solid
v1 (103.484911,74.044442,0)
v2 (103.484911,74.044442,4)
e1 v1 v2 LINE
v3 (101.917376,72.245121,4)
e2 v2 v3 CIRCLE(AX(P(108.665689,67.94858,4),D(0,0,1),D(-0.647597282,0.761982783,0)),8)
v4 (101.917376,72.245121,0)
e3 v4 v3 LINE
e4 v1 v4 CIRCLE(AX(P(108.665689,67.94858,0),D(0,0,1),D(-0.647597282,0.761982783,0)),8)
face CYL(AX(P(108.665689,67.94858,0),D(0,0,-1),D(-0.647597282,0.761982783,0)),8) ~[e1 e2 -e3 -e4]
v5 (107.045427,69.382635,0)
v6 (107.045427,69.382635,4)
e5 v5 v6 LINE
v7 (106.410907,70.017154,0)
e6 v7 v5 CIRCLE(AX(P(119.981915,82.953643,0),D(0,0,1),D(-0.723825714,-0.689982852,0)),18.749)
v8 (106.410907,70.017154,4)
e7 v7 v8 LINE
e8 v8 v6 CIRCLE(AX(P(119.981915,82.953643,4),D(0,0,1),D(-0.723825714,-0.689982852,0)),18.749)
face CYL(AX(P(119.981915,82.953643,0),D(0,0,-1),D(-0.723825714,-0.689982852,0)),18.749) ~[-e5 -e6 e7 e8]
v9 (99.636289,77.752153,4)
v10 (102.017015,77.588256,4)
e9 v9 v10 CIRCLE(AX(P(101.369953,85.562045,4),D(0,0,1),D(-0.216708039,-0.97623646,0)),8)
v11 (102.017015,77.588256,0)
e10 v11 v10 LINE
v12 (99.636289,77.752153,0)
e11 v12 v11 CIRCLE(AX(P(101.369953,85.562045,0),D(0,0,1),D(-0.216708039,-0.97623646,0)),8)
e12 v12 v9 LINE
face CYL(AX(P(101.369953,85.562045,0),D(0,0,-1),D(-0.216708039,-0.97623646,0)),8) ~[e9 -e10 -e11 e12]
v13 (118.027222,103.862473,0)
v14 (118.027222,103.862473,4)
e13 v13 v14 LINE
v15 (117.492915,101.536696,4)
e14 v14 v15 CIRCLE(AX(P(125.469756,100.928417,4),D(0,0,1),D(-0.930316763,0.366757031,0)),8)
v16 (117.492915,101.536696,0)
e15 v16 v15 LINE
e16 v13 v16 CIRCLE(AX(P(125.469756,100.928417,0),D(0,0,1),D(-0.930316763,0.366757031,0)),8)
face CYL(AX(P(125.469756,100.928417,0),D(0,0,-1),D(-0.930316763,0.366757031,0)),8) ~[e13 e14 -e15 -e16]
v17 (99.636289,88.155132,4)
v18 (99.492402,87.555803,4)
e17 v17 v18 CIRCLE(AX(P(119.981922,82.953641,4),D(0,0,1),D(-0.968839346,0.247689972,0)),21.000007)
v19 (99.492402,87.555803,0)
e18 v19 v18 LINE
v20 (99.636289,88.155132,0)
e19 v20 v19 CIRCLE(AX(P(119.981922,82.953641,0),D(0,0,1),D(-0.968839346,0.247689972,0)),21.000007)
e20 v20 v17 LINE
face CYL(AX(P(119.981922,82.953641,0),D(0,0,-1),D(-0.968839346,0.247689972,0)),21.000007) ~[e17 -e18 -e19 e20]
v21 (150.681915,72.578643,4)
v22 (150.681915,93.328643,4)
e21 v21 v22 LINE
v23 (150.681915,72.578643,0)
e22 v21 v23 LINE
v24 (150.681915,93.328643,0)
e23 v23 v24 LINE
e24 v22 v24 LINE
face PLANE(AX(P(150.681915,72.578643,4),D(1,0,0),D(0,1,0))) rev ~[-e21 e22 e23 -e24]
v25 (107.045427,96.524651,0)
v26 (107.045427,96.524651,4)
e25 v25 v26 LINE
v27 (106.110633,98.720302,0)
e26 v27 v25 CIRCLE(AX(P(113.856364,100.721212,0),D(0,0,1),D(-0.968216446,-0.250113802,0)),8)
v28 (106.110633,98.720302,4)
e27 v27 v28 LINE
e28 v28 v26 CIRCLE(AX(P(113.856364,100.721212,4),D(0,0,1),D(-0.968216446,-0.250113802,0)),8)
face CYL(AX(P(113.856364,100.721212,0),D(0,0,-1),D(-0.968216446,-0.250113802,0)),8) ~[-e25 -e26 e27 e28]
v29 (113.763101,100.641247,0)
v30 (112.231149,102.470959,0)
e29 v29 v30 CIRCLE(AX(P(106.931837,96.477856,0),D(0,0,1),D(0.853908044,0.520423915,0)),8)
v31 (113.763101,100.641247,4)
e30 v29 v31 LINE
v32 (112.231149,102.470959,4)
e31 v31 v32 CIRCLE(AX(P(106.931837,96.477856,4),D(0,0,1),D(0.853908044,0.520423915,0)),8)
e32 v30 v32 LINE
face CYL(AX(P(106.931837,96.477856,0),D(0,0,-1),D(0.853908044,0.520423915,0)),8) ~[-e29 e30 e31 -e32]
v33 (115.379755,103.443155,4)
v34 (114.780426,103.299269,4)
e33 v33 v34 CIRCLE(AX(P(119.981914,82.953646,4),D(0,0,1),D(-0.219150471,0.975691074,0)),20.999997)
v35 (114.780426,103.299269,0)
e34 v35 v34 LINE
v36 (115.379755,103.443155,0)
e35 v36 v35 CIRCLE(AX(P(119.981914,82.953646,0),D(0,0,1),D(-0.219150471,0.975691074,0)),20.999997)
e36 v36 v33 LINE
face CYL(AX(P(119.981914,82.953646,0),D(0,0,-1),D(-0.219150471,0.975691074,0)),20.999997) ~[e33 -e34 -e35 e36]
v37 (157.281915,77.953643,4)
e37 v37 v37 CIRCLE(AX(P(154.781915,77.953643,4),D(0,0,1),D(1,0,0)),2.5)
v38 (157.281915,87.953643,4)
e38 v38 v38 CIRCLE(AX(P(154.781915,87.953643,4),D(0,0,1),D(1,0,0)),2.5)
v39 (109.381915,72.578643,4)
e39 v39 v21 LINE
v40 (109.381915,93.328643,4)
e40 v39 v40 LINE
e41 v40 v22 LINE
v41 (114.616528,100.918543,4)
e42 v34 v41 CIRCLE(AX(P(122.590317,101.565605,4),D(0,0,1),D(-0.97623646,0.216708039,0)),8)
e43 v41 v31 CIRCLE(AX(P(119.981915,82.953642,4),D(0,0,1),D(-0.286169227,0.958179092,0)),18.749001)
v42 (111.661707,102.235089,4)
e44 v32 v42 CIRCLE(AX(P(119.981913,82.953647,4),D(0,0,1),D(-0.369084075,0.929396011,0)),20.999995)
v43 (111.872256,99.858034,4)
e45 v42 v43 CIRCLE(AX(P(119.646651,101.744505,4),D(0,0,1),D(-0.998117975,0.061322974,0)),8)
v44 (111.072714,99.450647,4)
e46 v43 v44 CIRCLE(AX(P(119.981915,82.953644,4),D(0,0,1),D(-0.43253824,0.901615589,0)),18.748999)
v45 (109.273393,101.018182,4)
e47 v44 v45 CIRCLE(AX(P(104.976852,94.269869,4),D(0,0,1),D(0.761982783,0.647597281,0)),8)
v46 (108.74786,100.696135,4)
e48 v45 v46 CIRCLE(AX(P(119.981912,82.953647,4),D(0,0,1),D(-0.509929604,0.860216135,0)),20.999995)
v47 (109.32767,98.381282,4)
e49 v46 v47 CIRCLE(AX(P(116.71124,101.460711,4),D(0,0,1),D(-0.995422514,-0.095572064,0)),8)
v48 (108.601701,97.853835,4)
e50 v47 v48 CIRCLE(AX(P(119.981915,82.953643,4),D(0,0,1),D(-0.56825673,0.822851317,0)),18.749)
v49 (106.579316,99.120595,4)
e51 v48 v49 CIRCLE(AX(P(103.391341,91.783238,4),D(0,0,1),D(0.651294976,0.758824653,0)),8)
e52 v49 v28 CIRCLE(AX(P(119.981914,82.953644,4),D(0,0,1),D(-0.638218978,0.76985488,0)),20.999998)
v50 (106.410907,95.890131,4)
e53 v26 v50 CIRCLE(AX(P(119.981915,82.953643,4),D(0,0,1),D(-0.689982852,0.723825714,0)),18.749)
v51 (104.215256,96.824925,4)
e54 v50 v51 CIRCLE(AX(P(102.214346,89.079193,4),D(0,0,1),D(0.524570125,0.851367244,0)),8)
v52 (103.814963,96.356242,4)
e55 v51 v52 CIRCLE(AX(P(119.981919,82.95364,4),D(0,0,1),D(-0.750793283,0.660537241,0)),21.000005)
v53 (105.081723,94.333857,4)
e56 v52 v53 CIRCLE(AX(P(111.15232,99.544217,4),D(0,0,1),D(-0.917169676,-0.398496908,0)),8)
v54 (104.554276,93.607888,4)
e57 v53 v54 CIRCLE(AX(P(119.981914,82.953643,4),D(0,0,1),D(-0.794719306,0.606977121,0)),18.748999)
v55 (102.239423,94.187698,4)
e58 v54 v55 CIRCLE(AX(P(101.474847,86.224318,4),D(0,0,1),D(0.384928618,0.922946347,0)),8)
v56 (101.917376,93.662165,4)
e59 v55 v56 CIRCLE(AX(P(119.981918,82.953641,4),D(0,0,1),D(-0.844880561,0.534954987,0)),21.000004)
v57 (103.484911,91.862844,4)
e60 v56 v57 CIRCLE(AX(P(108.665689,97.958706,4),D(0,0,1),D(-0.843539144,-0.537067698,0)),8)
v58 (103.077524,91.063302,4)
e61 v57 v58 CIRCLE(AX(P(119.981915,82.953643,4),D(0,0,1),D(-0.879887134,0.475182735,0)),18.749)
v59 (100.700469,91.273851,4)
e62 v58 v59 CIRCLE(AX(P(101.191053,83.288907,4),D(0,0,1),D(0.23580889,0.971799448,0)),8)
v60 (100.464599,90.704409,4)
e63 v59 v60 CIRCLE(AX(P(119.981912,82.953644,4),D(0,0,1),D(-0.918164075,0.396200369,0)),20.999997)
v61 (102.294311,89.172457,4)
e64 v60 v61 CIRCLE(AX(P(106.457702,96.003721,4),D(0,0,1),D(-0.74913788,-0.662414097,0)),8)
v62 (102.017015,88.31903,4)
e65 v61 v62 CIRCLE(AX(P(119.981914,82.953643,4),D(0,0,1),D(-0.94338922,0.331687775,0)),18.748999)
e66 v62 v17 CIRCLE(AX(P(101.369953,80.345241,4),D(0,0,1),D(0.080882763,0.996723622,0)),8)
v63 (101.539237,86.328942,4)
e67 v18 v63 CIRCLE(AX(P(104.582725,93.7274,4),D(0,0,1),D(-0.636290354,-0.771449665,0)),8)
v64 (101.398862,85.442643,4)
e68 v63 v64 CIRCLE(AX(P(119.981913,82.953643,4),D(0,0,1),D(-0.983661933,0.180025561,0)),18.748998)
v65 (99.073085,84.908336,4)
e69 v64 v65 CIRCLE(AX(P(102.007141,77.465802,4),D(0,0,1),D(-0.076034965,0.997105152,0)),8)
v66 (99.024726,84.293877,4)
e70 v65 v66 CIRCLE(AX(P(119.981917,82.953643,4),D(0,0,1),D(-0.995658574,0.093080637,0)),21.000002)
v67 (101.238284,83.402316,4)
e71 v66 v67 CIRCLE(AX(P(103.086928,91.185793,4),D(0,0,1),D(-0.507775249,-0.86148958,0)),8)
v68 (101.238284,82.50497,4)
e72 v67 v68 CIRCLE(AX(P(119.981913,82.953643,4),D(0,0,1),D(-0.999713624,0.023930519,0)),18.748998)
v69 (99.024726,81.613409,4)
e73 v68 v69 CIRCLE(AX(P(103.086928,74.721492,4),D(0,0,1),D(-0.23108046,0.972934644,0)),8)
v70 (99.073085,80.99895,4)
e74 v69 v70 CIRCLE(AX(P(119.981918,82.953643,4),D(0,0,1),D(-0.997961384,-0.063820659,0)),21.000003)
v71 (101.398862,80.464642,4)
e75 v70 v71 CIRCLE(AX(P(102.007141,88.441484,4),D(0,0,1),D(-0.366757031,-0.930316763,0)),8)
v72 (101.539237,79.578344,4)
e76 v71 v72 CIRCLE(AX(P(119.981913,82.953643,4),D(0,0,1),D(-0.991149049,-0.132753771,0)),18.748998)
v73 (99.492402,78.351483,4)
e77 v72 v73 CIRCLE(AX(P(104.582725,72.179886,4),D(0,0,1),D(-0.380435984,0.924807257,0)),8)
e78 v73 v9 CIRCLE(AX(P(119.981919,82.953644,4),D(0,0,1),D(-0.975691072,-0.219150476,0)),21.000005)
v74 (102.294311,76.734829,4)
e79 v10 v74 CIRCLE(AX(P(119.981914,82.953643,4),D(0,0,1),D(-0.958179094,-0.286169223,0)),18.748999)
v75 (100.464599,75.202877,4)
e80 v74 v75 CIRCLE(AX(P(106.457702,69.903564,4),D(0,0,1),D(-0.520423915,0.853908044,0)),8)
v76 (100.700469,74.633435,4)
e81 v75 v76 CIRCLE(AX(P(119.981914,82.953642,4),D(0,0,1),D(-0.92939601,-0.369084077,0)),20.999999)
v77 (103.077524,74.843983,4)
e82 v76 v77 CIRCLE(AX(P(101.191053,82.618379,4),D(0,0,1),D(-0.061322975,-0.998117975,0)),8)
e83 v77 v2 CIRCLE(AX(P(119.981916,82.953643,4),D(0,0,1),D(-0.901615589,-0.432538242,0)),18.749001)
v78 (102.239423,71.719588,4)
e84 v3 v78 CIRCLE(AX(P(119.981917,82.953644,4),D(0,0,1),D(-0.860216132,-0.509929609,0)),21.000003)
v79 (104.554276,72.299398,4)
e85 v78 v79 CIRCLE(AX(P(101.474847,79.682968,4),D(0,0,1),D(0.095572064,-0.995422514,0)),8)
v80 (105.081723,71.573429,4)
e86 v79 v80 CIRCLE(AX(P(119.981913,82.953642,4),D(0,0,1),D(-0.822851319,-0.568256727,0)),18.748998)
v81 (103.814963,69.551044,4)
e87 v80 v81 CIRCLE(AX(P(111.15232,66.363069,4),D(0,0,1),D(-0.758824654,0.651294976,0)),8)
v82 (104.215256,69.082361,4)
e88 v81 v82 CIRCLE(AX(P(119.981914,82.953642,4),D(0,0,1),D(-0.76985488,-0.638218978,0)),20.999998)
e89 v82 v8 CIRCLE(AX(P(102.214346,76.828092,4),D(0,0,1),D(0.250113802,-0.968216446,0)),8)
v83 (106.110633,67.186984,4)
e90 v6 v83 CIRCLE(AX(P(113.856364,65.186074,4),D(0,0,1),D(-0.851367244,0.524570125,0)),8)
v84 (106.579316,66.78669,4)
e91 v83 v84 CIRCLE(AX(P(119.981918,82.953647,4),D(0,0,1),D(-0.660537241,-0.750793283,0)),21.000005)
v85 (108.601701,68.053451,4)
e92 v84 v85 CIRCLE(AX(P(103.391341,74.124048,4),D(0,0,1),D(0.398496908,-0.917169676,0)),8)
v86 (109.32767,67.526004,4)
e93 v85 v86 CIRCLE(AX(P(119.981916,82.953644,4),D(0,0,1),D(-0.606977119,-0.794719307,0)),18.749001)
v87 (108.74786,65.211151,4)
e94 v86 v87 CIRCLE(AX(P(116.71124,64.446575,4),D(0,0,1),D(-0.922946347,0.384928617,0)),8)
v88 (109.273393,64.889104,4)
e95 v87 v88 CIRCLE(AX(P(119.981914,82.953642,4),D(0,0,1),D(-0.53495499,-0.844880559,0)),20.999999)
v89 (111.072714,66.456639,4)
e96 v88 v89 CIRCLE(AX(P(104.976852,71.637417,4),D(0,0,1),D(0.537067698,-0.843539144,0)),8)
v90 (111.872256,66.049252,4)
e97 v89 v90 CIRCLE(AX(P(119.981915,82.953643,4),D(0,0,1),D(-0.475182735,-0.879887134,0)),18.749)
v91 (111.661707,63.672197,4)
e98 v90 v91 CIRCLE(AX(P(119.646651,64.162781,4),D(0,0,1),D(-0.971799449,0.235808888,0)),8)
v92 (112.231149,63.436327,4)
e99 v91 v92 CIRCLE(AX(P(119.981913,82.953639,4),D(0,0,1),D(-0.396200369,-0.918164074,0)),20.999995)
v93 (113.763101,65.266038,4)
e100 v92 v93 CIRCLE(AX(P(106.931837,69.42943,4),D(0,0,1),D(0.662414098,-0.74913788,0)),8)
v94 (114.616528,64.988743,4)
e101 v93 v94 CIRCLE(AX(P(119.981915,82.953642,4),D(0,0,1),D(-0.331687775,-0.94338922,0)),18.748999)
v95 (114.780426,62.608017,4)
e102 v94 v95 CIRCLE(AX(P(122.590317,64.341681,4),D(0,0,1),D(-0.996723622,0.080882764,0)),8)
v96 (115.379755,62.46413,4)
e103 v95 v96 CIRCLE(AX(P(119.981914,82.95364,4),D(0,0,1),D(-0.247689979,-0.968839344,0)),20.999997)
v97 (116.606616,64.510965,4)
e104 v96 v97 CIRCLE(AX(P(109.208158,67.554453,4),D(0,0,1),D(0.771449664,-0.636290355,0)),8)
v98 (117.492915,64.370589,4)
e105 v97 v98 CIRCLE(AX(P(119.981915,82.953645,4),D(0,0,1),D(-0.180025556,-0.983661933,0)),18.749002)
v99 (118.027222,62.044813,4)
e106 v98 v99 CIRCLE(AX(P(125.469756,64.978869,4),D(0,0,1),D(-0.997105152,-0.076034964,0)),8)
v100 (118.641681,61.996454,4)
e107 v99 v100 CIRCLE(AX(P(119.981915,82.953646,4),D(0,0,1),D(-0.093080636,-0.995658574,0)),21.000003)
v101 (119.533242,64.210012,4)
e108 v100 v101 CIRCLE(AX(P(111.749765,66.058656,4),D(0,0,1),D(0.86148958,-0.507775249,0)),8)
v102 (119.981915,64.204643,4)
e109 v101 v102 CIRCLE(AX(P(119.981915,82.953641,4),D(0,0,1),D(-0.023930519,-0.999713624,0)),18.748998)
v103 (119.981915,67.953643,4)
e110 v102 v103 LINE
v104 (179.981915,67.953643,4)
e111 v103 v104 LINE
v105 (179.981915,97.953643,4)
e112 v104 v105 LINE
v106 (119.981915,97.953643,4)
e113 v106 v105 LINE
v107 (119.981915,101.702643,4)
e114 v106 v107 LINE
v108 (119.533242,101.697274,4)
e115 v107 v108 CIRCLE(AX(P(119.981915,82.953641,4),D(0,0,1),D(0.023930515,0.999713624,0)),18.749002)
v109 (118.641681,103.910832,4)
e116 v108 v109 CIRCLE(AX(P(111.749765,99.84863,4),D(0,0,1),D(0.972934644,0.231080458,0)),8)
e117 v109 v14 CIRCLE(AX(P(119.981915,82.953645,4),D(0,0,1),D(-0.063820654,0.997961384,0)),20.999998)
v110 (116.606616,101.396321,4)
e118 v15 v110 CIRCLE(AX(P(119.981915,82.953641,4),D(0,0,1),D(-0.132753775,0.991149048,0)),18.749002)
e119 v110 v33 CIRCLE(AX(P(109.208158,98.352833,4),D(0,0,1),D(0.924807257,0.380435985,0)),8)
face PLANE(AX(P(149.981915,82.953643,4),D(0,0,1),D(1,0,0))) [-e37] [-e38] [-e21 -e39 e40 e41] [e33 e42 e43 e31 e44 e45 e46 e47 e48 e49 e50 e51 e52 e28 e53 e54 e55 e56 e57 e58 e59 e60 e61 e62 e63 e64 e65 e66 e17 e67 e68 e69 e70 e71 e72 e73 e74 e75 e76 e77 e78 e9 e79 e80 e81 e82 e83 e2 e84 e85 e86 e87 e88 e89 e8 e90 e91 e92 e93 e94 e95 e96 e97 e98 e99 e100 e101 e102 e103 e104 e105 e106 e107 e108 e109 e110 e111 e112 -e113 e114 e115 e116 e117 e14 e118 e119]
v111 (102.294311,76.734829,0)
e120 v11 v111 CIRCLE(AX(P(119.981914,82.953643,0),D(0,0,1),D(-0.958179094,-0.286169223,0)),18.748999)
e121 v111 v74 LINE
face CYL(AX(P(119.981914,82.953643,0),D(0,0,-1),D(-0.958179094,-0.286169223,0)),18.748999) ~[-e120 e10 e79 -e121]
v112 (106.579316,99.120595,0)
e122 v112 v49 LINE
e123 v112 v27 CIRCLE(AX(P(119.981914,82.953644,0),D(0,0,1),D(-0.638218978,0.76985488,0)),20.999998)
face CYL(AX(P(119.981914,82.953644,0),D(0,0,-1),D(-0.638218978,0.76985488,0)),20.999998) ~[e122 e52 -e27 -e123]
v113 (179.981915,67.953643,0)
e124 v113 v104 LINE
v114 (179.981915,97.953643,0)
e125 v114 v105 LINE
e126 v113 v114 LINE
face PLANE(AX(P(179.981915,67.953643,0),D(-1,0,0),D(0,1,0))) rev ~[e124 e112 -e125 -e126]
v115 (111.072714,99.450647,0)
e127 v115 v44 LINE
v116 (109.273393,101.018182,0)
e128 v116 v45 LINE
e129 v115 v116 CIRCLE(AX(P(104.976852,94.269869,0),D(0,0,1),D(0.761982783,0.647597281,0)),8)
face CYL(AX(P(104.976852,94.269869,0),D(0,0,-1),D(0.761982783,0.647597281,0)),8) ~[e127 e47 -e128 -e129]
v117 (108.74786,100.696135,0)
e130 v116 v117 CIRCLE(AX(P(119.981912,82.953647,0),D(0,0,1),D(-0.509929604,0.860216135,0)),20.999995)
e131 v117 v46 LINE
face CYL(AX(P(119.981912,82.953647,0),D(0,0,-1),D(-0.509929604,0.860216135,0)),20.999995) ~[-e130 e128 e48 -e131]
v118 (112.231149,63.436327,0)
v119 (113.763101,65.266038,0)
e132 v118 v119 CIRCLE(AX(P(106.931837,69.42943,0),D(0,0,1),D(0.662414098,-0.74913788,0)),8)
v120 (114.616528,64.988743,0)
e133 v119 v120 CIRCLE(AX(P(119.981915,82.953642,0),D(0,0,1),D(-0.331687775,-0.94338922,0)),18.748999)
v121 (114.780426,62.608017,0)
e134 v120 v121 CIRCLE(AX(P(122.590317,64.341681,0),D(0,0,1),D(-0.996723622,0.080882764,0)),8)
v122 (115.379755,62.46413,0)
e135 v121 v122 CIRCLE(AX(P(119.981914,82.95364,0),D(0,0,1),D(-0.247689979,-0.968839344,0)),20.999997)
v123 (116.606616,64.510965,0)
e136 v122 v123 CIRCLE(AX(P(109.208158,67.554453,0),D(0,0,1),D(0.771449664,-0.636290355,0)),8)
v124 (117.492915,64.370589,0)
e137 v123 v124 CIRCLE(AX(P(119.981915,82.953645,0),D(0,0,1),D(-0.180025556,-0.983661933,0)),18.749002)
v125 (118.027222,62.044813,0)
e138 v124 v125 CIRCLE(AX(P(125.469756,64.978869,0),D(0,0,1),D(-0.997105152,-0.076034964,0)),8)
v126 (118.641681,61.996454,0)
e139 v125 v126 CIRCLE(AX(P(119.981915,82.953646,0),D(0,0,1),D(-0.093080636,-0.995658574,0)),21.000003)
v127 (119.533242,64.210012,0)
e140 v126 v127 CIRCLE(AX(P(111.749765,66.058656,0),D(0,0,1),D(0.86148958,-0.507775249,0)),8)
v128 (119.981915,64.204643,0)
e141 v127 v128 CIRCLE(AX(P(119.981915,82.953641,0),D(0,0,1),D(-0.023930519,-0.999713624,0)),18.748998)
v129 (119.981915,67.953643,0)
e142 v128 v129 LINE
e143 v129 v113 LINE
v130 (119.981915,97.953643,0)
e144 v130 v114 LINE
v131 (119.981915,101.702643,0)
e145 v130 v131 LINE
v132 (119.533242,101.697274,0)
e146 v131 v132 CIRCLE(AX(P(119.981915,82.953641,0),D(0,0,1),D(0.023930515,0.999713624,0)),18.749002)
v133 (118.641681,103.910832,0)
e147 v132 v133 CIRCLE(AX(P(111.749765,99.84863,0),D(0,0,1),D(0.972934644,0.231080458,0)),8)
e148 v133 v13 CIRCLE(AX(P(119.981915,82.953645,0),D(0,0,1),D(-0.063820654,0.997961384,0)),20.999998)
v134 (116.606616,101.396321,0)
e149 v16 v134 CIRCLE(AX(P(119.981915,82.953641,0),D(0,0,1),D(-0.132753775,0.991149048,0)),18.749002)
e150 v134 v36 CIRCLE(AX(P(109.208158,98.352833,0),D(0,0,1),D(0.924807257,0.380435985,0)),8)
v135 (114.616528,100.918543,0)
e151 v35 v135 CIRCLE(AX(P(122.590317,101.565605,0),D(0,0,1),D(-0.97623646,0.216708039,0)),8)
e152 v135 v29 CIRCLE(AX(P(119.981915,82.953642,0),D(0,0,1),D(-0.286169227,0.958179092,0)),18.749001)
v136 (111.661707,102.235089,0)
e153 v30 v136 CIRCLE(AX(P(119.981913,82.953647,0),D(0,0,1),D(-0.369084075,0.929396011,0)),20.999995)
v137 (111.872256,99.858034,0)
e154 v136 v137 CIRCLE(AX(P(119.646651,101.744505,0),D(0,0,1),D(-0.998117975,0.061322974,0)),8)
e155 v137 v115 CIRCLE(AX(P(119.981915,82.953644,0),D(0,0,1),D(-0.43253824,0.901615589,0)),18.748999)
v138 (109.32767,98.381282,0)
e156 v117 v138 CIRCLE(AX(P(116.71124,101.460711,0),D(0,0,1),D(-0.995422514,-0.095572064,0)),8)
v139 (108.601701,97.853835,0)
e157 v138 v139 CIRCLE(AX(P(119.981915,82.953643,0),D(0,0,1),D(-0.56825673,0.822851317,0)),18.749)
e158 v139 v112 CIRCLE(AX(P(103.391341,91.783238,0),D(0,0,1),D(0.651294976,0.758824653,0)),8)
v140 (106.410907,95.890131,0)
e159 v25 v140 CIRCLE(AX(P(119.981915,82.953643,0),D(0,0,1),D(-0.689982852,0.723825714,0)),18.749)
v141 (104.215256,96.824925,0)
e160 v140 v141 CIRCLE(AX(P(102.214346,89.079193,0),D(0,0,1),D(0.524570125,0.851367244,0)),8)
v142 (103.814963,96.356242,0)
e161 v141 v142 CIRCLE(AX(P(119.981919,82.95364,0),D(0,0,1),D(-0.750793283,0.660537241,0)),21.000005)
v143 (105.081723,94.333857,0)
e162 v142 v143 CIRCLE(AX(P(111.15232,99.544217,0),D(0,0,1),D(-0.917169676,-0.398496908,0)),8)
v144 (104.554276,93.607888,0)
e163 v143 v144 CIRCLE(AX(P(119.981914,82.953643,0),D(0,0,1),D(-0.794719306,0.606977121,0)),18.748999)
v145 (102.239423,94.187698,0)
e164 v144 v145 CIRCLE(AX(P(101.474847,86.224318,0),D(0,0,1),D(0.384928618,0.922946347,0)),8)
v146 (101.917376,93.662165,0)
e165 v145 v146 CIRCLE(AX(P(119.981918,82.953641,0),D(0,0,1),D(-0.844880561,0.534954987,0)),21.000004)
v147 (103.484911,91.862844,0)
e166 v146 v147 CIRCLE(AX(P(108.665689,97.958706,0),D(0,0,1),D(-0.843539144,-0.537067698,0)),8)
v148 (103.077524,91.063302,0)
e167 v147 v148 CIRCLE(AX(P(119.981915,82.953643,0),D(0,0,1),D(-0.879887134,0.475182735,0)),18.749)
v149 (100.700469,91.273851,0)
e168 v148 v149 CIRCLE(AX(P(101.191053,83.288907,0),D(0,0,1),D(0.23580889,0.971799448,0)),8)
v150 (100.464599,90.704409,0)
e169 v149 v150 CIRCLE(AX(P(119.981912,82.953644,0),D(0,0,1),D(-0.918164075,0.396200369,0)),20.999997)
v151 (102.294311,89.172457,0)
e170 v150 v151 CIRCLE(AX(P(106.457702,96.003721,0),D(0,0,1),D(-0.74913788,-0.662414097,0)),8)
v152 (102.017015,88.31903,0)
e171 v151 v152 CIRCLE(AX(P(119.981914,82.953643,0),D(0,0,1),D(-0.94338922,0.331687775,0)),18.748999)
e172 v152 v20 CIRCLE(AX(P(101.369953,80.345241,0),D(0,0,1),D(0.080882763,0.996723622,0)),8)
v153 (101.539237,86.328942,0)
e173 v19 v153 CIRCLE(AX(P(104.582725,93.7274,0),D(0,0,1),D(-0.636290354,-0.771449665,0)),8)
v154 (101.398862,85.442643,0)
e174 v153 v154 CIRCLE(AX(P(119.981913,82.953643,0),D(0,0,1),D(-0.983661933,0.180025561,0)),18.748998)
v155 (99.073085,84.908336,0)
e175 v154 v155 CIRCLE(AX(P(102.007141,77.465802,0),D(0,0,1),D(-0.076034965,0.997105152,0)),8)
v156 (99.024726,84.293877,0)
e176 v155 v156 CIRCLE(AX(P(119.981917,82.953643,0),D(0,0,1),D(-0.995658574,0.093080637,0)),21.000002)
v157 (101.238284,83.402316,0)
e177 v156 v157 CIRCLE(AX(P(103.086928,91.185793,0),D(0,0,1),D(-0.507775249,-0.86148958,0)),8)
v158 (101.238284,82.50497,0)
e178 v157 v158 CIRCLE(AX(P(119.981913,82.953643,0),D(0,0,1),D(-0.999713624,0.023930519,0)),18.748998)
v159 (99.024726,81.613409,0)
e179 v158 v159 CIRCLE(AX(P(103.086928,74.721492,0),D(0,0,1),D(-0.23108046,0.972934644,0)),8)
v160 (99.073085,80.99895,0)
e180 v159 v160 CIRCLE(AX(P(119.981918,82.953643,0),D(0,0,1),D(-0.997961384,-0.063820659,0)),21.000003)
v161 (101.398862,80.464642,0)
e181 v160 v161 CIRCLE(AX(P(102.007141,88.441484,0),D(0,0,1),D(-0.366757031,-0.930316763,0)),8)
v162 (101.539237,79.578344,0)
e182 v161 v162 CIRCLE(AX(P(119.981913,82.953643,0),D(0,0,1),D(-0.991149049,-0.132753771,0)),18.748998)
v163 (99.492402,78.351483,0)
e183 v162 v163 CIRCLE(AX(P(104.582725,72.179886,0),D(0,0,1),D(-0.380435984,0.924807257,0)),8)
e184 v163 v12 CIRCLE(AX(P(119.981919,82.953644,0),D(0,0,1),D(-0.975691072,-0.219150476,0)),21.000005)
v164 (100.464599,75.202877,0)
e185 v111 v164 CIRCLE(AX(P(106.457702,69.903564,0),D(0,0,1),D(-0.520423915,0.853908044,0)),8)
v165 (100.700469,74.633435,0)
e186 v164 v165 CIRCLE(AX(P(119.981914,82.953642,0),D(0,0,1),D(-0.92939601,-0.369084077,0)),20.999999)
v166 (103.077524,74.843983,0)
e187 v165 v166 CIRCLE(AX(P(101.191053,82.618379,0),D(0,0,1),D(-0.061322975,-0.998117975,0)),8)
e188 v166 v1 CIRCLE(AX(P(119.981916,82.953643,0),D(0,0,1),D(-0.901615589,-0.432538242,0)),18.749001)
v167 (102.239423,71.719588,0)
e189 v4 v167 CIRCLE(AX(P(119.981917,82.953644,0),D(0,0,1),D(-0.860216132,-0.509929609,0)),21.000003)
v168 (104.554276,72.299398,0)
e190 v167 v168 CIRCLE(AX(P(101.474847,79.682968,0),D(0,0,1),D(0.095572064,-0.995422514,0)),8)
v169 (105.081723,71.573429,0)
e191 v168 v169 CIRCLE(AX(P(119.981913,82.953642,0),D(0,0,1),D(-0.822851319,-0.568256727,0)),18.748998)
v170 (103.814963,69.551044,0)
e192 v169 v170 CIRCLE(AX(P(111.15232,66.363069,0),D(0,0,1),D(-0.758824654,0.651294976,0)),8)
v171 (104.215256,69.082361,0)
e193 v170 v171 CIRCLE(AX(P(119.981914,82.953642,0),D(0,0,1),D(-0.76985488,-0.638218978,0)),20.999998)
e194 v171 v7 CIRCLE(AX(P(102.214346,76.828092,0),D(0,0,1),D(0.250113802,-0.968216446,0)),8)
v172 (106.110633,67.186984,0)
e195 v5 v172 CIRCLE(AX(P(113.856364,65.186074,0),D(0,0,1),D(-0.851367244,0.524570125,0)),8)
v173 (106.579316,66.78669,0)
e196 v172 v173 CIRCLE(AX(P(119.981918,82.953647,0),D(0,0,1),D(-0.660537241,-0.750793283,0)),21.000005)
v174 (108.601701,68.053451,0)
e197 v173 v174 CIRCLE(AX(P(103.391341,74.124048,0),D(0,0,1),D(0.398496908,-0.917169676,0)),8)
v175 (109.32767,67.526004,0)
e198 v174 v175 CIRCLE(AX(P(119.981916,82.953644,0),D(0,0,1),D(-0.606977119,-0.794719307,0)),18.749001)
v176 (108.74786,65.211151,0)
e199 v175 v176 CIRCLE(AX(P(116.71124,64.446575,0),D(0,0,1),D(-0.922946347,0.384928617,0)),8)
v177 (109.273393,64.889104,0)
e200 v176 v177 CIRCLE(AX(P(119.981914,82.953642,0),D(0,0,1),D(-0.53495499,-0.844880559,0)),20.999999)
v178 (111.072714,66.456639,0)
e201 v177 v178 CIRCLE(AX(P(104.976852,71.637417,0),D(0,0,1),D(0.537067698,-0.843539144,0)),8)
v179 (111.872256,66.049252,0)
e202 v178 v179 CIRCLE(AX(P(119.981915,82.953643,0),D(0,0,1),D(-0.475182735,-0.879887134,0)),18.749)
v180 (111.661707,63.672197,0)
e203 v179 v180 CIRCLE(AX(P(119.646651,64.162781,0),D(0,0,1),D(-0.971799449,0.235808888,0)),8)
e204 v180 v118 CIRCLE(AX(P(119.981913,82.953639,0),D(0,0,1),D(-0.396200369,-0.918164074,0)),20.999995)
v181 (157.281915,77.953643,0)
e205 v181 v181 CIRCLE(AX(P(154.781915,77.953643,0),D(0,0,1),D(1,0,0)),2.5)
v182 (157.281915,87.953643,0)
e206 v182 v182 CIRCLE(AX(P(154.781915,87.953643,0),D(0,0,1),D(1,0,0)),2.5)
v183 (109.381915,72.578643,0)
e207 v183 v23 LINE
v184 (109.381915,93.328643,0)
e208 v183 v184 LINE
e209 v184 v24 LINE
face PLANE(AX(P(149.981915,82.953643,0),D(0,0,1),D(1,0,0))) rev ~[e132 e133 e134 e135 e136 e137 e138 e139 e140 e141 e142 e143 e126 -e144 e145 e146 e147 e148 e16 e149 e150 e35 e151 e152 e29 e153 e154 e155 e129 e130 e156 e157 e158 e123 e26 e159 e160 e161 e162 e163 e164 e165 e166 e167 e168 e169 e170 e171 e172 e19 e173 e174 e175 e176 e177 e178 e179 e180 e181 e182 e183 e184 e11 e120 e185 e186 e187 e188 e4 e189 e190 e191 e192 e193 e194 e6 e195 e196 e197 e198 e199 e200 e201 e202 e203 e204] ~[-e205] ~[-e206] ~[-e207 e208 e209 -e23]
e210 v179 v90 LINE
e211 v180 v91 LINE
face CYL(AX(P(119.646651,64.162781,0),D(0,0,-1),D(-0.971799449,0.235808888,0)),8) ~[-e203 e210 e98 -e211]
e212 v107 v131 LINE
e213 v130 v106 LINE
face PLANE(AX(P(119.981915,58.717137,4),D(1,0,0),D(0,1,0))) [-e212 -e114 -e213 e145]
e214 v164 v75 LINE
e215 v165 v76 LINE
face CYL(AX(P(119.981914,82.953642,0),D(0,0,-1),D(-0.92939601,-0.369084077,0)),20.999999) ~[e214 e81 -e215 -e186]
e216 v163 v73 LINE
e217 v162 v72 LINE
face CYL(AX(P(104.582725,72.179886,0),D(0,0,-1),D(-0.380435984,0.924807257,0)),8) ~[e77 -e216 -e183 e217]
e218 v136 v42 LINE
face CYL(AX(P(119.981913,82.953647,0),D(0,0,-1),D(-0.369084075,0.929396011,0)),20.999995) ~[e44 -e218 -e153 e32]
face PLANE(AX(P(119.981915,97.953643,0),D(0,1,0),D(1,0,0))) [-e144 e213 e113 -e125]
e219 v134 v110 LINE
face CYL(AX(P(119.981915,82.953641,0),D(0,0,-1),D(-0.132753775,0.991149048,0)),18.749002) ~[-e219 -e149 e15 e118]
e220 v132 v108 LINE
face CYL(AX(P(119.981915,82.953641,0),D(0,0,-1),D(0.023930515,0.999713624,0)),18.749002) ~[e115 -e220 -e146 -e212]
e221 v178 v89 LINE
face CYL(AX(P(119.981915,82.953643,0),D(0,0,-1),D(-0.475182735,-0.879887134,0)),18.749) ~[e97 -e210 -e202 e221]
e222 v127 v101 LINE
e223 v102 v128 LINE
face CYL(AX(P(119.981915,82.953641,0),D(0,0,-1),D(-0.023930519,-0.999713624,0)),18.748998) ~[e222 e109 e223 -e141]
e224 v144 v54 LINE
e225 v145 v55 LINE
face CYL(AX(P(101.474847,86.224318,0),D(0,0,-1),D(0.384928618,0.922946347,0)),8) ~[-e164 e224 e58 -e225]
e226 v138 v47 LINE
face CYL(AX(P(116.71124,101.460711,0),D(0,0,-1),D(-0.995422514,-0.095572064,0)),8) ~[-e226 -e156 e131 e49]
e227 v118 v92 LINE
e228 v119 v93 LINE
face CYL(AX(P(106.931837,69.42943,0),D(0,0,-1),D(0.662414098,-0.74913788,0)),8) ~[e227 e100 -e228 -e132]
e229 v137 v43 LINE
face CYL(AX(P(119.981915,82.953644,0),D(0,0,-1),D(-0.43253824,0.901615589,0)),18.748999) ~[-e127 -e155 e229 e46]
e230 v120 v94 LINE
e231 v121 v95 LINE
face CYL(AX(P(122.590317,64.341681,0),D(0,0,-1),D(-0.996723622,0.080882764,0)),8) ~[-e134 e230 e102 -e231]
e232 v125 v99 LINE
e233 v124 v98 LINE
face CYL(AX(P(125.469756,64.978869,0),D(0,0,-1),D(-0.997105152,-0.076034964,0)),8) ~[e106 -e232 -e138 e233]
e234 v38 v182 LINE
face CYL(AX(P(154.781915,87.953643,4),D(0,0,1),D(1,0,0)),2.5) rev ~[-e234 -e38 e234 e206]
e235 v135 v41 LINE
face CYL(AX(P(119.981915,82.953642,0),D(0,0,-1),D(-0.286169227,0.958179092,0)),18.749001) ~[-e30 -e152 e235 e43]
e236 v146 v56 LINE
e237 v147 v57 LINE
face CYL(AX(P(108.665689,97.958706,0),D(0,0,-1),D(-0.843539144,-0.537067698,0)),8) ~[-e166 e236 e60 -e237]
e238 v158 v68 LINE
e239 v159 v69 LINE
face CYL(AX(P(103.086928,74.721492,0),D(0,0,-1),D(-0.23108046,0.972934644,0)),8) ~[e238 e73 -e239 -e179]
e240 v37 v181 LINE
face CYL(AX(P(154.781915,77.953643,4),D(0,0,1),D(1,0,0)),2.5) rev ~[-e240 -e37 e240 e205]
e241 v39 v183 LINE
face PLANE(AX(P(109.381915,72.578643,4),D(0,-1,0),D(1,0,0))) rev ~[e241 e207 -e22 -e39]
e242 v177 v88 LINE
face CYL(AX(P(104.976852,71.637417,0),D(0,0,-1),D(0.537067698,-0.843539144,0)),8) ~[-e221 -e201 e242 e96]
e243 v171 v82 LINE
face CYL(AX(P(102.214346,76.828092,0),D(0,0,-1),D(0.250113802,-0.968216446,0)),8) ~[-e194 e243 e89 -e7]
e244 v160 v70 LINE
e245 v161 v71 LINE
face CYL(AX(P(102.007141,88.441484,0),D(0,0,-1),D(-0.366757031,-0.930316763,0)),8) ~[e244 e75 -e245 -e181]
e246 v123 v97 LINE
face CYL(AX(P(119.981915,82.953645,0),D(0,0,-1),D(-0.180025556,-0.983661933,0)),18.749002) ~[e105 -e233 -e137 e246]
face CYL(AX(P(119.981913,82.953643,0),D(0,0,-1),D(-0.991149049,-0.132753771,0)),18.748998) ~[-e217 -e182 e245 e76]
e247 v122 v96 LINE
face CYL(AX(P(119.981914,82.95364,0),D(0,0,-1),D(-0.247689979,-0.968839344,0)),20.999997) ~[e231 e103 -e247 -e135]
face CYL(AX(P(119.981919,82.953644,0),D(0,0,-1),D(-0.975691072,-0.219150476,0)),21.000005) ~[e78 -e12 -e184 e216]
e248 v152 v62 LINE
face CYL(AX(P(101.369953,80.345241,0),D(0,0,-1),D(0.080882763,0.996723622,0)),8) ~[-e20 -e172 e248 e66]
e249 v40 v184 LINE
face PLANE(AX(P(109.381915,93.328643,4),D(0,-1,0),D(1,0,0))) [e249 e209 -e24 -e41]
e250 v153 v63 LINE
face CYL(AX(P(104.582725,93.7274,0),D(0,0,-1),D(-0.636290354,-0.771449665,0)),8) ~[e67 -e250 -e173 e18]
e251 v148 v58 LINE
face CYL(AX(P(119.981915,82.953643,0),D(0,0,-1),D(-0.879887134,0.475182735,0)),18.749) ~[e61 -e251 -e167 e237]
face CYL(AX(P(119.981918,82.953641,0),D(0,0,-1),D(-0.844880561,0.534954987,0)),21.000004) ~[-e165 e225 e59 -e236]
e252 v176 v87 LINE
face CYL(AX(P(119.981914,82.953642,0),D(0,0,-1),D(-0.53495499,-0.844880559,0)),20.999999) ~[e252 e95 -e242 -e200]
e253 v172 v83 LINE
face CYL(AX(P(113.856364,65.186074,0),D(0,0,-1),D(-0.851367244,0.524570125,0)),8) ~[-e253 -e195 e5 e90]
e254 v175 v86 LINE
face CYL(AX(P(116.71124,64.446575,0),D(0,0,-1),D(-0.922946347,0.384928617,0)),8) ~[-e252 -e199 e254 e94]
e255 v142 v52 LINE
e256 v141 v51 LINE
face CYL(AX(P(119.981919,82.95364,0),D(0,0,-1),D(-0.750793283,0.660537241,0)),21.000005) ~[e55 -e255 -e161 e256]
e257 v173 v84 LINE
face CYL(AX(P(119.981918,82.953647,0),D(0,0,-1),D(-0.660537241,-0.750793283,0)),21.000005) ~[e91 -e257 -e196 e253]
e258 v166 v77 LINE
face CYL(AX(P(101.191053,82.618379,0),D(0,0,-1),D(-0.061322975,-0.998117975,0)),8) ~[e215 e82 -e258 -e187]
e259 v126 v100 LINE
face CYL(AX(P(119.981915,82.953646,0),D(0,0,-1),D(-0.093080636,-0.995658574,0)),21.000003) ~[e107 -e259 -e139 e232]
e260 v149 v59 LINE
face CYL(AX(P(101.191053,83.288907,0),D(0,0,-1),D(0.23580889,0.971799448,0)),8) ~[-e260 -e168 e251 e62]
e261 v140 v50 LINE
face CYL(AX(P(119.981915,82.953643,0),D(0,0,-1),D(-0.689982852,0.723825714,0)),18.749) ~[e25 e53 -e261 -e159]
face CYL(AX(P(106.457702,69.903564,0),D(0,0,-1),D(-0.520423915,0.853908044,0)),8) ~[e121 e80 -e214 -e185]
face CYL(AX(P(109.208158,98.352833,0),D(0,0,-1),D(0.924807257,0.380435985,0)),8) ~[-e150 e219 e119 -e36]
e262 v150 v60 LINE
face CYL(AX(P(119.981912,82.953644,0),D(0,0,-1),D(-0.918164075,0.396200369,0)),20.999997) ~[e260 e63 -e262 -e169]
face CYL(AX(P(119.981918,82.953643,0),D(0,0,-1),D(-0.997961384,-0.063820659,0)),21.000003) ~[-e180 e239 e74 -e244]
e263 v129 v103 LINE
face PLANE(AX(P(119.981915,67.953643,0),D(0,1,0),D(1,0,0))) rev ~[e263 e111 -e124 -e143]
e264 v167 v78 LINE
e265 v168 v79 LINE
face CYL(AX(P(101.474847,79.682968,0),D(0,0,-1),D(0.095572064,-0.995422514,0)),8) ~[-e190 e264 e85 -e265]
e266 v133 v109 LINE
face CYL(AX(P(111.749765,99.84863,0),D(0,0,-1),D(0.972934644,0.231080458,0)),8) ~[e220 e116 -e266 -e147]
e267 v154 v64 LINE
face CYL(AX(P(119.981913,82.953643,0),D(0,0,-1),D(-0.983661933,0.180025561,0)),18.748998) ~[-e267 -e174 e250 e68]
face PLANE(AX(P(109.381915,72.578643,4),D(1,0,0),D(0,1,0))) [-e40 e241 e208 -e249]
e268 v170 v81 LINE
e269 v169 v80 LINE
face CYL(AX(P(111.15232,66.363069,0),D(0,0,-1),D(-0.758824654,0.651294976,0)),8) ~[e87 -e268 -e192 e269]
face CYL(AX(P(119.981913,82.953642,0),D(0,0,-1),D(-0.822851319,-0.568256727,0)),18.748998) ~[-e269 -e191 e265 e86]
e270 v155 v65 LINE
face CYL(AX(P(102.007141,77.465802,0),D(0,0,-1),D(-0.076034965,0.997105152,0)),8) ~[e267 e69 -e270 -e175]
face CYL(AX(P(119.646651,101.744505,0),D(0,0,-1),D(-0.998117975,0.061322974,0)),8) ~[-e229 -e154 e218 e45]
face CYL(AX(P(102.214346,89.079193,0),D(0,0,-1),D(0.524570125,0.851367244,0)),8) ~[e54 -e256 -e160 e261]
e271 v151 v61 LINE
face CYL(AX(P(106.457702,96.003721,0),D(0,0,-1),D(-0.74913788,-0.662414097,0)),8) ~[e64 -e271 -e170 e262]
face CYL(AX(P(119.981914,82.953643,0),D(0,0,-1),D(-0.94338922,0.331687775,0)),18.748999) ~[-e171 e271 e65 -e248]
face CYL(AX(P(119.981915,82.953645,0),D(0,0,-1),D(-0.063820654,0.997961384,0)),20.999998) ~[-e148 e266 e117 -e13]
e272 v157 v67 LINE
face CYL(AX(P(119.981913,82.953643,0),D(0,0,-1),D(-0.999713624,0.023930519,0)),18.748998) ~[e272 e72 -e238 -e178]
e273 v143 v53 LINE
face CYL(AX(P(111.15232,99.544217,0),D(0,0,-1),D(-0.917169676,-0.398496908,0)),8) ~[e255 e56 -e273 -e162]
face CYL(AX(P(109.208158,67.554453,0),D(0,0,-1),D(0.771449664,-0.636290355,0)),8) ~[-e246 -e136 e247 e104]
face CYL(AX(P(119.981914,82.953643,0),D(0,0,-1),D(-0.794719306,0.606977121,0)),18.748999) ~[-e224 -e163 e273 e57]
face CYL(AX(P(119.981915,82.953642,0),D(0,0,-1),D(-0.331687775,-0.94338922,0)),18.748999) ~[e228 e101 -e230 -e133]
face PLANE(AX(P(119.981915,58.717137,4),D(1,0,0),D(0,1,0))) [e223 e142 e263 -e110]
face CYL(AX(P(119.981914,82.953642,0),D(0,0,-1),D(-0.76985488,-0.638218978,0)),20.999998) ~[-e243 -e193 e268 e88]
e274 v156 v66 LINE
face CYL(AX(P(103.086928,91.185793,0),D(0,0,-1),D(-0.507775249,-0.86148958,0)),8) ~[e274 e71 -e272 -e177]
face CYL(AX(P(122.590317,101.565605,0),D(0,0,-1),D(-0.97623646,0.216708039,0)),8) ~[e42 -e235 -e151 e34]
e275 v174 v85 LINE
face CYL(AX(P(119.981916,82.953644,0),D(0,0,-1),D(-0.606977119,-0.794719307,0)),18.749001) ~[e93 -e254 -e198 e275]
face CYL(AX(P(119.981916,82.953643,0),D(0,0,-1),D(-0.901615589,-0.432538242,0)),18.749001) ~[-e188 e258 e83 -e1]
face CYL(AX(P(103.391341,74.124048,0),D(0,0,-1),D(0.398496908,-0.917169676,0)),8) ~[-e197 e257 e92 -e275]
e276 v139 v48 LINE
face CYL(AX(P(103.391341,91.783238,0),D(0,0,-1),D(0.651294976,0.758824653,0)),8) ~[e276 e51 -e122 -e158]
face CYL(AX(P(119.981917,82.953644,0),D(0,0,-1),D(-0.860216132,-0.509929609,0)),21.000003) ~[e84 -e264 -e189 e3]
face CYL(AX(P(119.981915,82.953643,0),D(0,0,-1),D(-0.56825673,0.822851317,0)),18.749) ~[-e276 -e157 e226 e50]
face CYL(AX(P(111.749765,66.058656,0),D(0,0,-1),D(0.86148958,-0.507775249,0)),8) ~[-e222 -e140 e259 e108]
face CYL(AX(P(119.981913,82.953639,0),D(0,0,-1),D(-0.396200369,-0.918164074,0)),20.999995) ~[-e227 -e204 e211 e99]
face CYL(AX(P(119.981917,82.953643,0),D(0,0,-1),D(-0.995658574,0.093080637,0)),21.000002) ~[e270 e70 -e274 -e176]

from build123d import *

# Parameters (mm, degrees)
MODEL_R             = 2.5
BOSS_EXTRUDE1_DEPTH = 4
SKETCH3_W           = 38.015783353
SKETCH3_H           = 48.473012512
CUT_EXTRUDE1_DEPTH  = 4
SKETCH4_W           = 60
SKETCH4_H           = 30
BOSS_EXTRUDE2_DEPTH = 4
SKETCH7_W           = 41.3
SKETCH7_H           = 20.75
CUT_EXTRUDE2_DEPTH  = 4
SKETCH8_R           = 2.5
CUT_EXTRUDE3_DEPTH  = 4


with BuildPart() as part:
    # Model → Boss-Extrude1 (new body)
    with BuildSketch(Plane.XY):
        with BuildLine():
            ThreePointArc((99.073084966, 84.908336321), (99.046651001, 84.60128395), (99.024725946, 84.293876719))
            ThreePointArc((99.024725946, 84.293876719), (100.098074623, 83.765095558), (101.23828427, 83.402316207))
            ThreePointArc((101.23828427, 83.402316207), (101.232915009, 82.953642939), (101.23828427, 82.504969672))
            ThreePointArc((101.23828427, 82.504969672), (100.098074623, 82.14219032), (99.024725946, 81.61340916))
            ThreePointArc((99.024725946, 81.61340916), (99.046651001, 81.306001929), (99.073084966, 80.998949557))
            ThreePointArc((99.073084966, 80.998949557), (100.215938537, 80.644587296), (101.398861505, 80.464642447))
            ThreePointArc((101.398861505, 80.464642447), (101.463746311, 80.020653154), (101.53923743, 79.578343736))
            ThreePointArc((101.53923743, 79.578343736), (100.469816849, 79.041662715), (99.492402474, 78.351483002))
            ThreePointArc((99.492402474, 78.351483002), (99.562146681, 78.051290298), (99.636288773, 77.752153434))
            ThreePointArc((99.636288773, 77.752153434), (100.820506391, 77.580935647), (102.017015191, 77.58825614))
            ThreePointArc((102.017015191, 77.58825614), (102.150556385, 77.159883312), (102.29431052, 76.734828869))
            ThreePointArc((102.29431052, 76.734828869), (101.32201169, 76.037461045), (100.464598802, 75.202877295))
            ThreePointArc((100.464598802, 75.202877295), (100.580444826, 74.91729086), (100.700469422, 74.633435245))
            ThreePointArc((100.700469422, 74.633435245), (101.896891719, 74.649577883), (103.077524332, 74.843983462))
            ThreePointArc((103.077524332, 74.843983462), (103.276433687, 74.44177506), (103.484911134, 74.044441844))
            ThreePointArc((103.484911134, 74.044441844), (102.633675279, 73.203558728), (101.917376229, 72.245121162))
            ThreePointArc((101.917376229, 72.245121162), (102.076471558, 71.98117308), (102.239423252, 71.719588183))
            ThreePointArc((102.239423252, 71.719588183), (103.41859034, 71.92269376), (104.554275675, 72.299397515))
            ThreePointArc((104.554275675, 72.299397515), (104.813655381, 71.933257244), (105.081722734, 71.573428918))
            ThreePointArc((105.081722734, 71.573428918), (104.372510105, 70.609735842), (103.814962553, 69.551044374))
            ThreePointArc((103.814962553, 69.551044374), (104.013389731, 69.315233924), (104.215256114, 69.082360832))
            ThreePointArc((104.215256114, 69.082360832), (105.348132986, 69.467428215), (106.410906699, 70.017154449))
            ThreePointArc((106.410906699, 70.017154449), (106.724369968, 69.696097899), (107.045426519, 69.382634629))
            ThreePointArc((107.045426519, 69.382634629), (106.495700285, 68.319860916), (106.110632902, 67.186984044))
            ThreePointArc((106.110632902, 67.186984044), (106.343505994, 66.985117662), (106.579316444, 66.786690483))
            ThreePointArc((106.579316444, 66.786690483), (107.638007912, 67.344238035), (108.601700987, 68.053450665))
            ThreePointArc((108.601700987, 68.053450665), (108.961529314, 67.785383312), (109.327669584, 67.526003605))
            ThreePointArc((109.327669584, 67.526003605), (108.95096583, 66.390318271), (108.747860253, 65.211151183))
            ThreePointArc((108.747860253, 65.211151183), (109.00944515, 65.048199488), (109.273393232, 64.889104159))
            ThreePointArc((109.273393232, 64.889104159), (110.231830798, 65.605403209), (111.072713914, 66.456639064))
            ThreePointArc((111.072713914, 66.456639064), (111.470047129, 66.248161617), (111.872255531, 66.049252262))
            ThreePointArc((111.872255531, 66.049252262), (111.677849953, 64.868619649), (111.661707315, 63.672197352))
            ThreePointArc((111.661707315, 63.672197352), (111.945562929, 63.552172756), (112.231149365, 63.436326732))
            ThreePointArc((112.231149365, 63.436326732), (113.065733115, 64.29373962), (113.763100939, 65.26603845))
            ThreePointArc((113.763100939, 65.26603845), (114.188155381, 65.122284315), (114.616528209, 64.988743121))
            ThreePointArc((114.616528209, 64.988743121), (114.609207717, 63.792234321), (114.780425504, 62.608016704))
            ThreePointArc((114.780425504, 62.608016704), (115.079562368, 62.533874611), (115.379755071, 62.464130405))
            ThreePointArc((115.379755071, 62.464130405), (116.069934785, 63.44154478), (116.606615806, 64.51096536))
            ThreePointArc((116.606615806, 64.51096536), (117.048925224, 64.435474242), (117.492914517, 64.370589435))
            ThreePointArc((117.492914517, 64.370589435), (117.672859366, 63.187666467), (118.027221627, 62.044812896))
            ThreePointArc((118.027221627, 62.044812896), (118.334273999, 62.018378931), (118.641681229, 61.996453876))
            ThreePointArc((118.641681229, 61.996453876), (119.17046239, 63.069802553), (119.533241741, 64.2100122))
            ThreePointArc((119.533241741, 64.2100122), (119.981915009, 64.204642939), (120.430588277, 64.2100122))
            ThreePointArc((120.430588277, 64.2100122), (120.793367628, 63.069802553), (121.322148789, 61.996453876))
            ThreePointArc((121.322148789, 61.996453876), (121.629556019, 62.018378931), (121.936608391, 62.044812896))
            ThreePointArc((121.936608391, 62.044812896), (122.290970652, 63.187666467), (122.470915501, 64.370589435))
            ThreePointArc((122.470915501, 64.370589435), (122.914904794, 64.435474242), (123.357214212, 64.51096536))
            ThreePointArc((123.357214212, 64.51096536), (123.893895234, 63.44154478), (124.584074947, 62.464130405))
            ThreePointArc((124.584074947, 62.464130405), (124.88426765, 62.533874611), (125.183404514, 62.608016704))
            ThreePointArc((125.183404514, 62.608016704), (125.354622301, 63.792234321), (125.347301809, 64.988743121))
            ThreePointArc((125.347301809, 64.988743121), (125.775674637, 65.122284315), (126.200729079, 65.26603845))
            ThreePointArc((126.200729079, 65.26603845), (126.898096903, 64.29373962), (127.732680653, 63.436326732))
            ThreePointArc((127.732680653, 63.436326732), (128.018267089, 63.552172757), (128.302122703, 63.672197352))
            ThreePointArc((128.302122703, 63.672197352), (128.285980065, 64.868619649), (128.091574487, 66.049252262))
            ThreePointArc((128.091574487, 66.049252262), (128.493782889, 66.248161617), (128.891116104, 66.456639065))
            ThreePointArc((128.891116104, 66.456639065), (129.73199922, 65.605403209), (130.690436786, 64.889104159))
            ThreePointArc((130.690436786, 64.889104159), (130.954384868, 65.048199488), (131.215969765, 65.211151183))
            ThreePointArc((131.215969765, 65.211151183), (131.012864188, 66.390318271), (130.636160434, 67.526003605))
            ThreePointArc((130.636160434, 67.526003605), (131.002300704, 67.785383312), (131.362129031, 68.053450665))
            ThreePointArc((131.362129031, 68.053450665), (132.325822106, 67.344238036), (133.384513574, 66.786690483))
            ThreePointArc((133.384513574, 66.786690483), (133.620324024, 66.985117662), (133.853197116, 67.186984044))
            ThreePointArc((133.853197116, 67.186984044), (133.468129733, 68.319860916), (132.918403499, 69.382634629))
            ThreePointArc((132.918403499, 69.382634629), (133.23946005, 69.696097899), (133.552923319, 70.01715445))
            ThreePointArc((133.552923319, 70.01715445), (134.615697032, 69.467428215), (135.748573904, 69.082360832))
            ThreePointArc((135.748573904, 69.082360832), (135.950440287, 69.315233924), (136.148867465, 69.551044374))
            ThreePointArc((136.148867465, 69.551044374), (135.591319913, 70.609735842), (134.882107284, 71.573428918))
            ThreePointArc((134.882107284, 71.573428918), (135.150174637, 71.933257244), (135.409554343, 72.299397515))
            ThreePointArc((135.409554343, 72.299397515), (136.545239678, 71.92269376), (137.724406766, 71.719588183))
            ThreePointArc((137.724406766, 71.719588183), (137.88735846, 71.98117308), (138.046453789, 72.245121162))
            ThreePointArc((138.046453789, 72.245121162), (137.330154739, 73.203558728), (136.478918884, 74.044441844))
            ThreePointArc((136.478918884, 74.044441844), (136.687396331, 74.44177506), (136.886305686, 74.843983462))
            ThreePointArc((136.886305686, 74.843983462), (138.066938299, 74.649577883), (139.263360596, 74.633435245))
            ThreePointArc((139.263360596, 74.633435245), (139.383385192, 74.91729086), (139.499231216, 75.202877295))
            ThreePointArc((139.499231216, 75.202877295), (138.641818328, 76.037461045), (137.669519498, 76.73482887))
            ThreePointArc((137.669519498, 76.73482887), (137.813273633, 77.159883312), (137.946814828, 77.58825614))
            ThreePointArc((137.946814828, 77.58825614), (139.143323627, 77.580935647), (140.327541245, 77.752153434))
            ThreePointArc((140.327541245, 77.752153434), (140.401683337, 78.051290298), (140.471427544, 78.351483002))
            ThreePointArc((140.471427544, 78.351483002), (139.494013169, 79.041662715), (138.424592588, 79.578343736))
            ThreePointArc((138.424592588, 79.578343736), (138.500083707, 80.020653154), (138.564968513, 80.464642447))
            ThreePointArc((138.564968513, 80.464642447), (139.747891481, 80.644587296), (140.890745052, 80.998949557))
            ThreePointArc((140.890745052, 80.998949557), (140.917179017, 81.306001929), (140.939104072, 81.61340916))
            ThreePointArc((140.939104072, 81.61340916), (139.865755396, 82.14219032), (138.725545749, 82.504969672))
            ThreePointArc((138.725545749, 82.504969672), (138.730915009, 82.953642939), (138.725545749, 83.402316207))
            ThreePointArc((138.725545749, 83.402316207), (139.865755396, 83.765095558), (140.939104072, 84.293876719))
            ThreePointArc((140.939104072, 84.293876719), (140.917179017, 84.60128395), (140.890745052, 84.908336321))
            ThreePointArc((140.890745052, 84.908336321), (139.747891481, 85.262698582), (138.564968514, 85.442643432))
            ThreePointArc((138.564968514, 85.442643432), (138.500083707, 85.886632724), (138.424592588, 86.328942142))
            ThreePointArc((138.424592588, 86.328942142), (139.494013169, 86.865623164), (140.471427544, 87.555802877))
            ThreePointArc((140.471427544, 87.555802877), (140.401683337, 87.85599558), (140.327541245, 88.155132445))
            ThreePointArc((140.327541245, 88.155132445), (139.143323627, 88.326350231), (137.946814828, 88.319029739))
            ThreePointArc((137.946814828, 88.319029739), (137.813273633, 88.747402567), (137.669519498, 89.172457009))
            ThreePointArc((137.669519498, 89.172457009), (138.641818328, 89.869824833), (139.499231216, 90.704408584))
            ThreePointArc((139.499231216, 90.704408584), (139.383385192, 90.989995019), (139.263360596, 91.273850633))
            ThreePointArc((139.263360596, 91.273850633), (138.066938299, 91.257707996), (136.886305686, 91.063302417))
            ThreePointArc((136.886305686, 91.063302417), (136.687396331, 91.465510819), (136.478918884, 91.862844035))
            ThreePointArc((136.478918884, 91.862844035), (137.330154739, 92.703727151), (138.046453789, 93.662164717))
            ThreePointArc((138.046453789, 93.662164717), (137.88735846, 93.926112798), (137.724406766, 94.187697696))
            ThreePointArc((137.724406766, 94.187697696), (136.545239678, 93.984592119), (135.409554344, 93.607888364))
            ThreePointArc((135.409554344, 93.607888364), (135.150174637, 93.974028635), (134.882107284, 94.333856961))
            ThreePointArc((134.882107284, 94.333856961), (135.591319913, 95.297550036), (136.148867465, 96.356241504))
            ThreePointArc((136.148867465, 96.356241504), (135.950440287, 96.592051954), (135.748573904, 96.824925046))
            ThreePointArc((135.748573904, 96.824925046), (134.615697032, 96.439857663), (133.552923319, 95.890131429))
            ThreePointArc((133.552923319, 95.890131429), (133.23946005, 96.21118798), (132.918403499, 96.524651249))
            ThreePointArc((132.918403499, 96.524651249), (133.468129733, 97.587424962), (133.853197116, 98.720301834))
            ThreePointArc((133.853197116, 98.720301834), (133.620324024, 98.922168217), (133.384513574, 99.120595395))
            ThreePointArc((133.384513574, 99.120595395), (132.325822106, 98.563047843), (131.362129031, 97.853835214))
            ThreePointArc((131.362129031, 97.853835214), (131.002300704, 98.121902567), (130.636160434, 98.381282274))
            ThreePointArc((130.636160434, 98.381282274), (131.012864188, 99.516967608), (131.215969765, 100.696134696))
            ThreePointArc((131.215969765, 100.696134696), (130.954384868, 100.859086391), (130.690436786, 101.01818172))
            ThreePointArc((130.690436786, 101.01818172), (129.73199922, 100.30188267), (128.891116104, 99.450646814))
            ThreePointArc((128.891116104, 99.450646814), (128.493782889, 99.659124261), (128.091574487, 99.858033616))
            ThreePointArc((128.091574487, 99.858033616), (128.285980065, 101.03866623), (128.302122703, 102.235088526))
            ThreePointArc((128.302122703, 102.235088526), (128.018267089, 102.355113122), (127.732680653, 102.470959146))
            ThreePointArc((127.732680653, 102.470959146), (126.898096903, 101.613546259), (126.200729079, 100.641247429))
            ThreePointArc((126.200729079, 100.641247429), (125.775674637, 100.785001563), (125.347301809, 100.918542758))
            ThreePointArc((125.347301809, 100.918542758), (125.354622301, 102.115051557), (125.183404514, 103.299269175))
            ThreePointArc((125.183404514, 103.299269175), (124.88426765, 103.373411268), (124.584074947, 103.443155474))
            ThreePointArc((124.584074947, 103.443155474), (123.893895234, 102.465741099), (123.357214212, 101.396320519))
            ThreePointArc((123.357214212, 101.396320519), (122.914904794, 101.471811637), (122.470915501, 101.536696444))
            ThreePointArc((122.470915501, 101.536696444), (122.290970652, 102.719619412), (121.936608391, 103.862472983))
            ThreePointArc((121.936608391, 103.862472983), (121.629556019, 103.888906948), (121.322148789, 103.910832002))
            ThreePointArc((121.322148789, 103.910832002), (120.793367628, 102.837483326), (120.430588277, 101.697273679))
            ThreePointArc((120.430588277, 101.697273679), (119.981915009, 101.702642939), (119.533241741, 101.697273679))
            ThreePointArc((119.533241741, 101.697273679), (119.17046239, 102.837483326), (118.641681229, 103.910832002))
            ThreePointArc((118.641681229, 103.910832002), (118.334273999, 103.888906948), (118.027221627, 103.862472983))
            ThreePointArc((118.027221627, 103.862472983), (117.672859366, 102.719619412), (117.492914517, 101.536696444))
            ThreePointArc((117.492914517, 101.536696444), (117.048925224, 101.471811637), (116.606615806, 101.396320519))
            ThreePointArc((116.606615806, 101.396320519), (116.069934785, 102.465741099), (115.379755071, 103.443155474))
            ThreePointArc((115.379755071, 103.443155474), (115.079562368, 103.373411268), (114.780425504, 103.299269175))
            ThreePointArc((114.780425504, 103.299269175), (114.609207717, 102.115051557), (114.616528209, 100.918542758))
            ThreePointArc((114.616528209, 100.918542758), (114.188155382, 100.785001563), (113.763100939, 100.641247428))
            ThreePointArc((113.763100939, 100.641247428), (113.065733115, 101.613546258), (112.231149365, 102.470959146))
            ThreePointArc((112.231149365, 102.470959146), (111.945562929, 102.355113122), (111.661707315, 102.235088526))
            ThreePointArc((111.661707315, 102.235088526), (111.677849953, 101.03866623), (111.872255532, 99.858033616))
            ThreePointArc((111.872255532, 99.858033616), (111.470047129, 99.659124261), (111.072713914, 99.450646814))
            ThreePointArc((111.072713914, 99.450646814), (110.231830798, 100.30188267), (109.273393232, 101.018181719))
            ThreePointArc((109.273393232, 101.018181719), (109.00944515, 100.859086391), (108.747860253, 100.696134696))
            ThreePointArc((108.747860253, 100.696134696), (108.95096583, 99.516967608), (109.327669585, 98.381282274))
            ThreePointArc((109.327669585, 98.381282274), (108.961529314, 98.121902567), (108.601700987, 97.853835214))
            ThreePointArc((108.601700987, 97.853835214), (107.638007912, 98.563047843), (106.579316444, 99.120595395))
            ThreePointArc((106.579316444, 99.120595395), (106.343505994, 98.922168217), (106.110632902, 98.720301834))
            ThreePointArc((106.110632902, 98.720301834), (106.495700285, 97.587424962), (107.045426519, 96.524651249))
            ThreePointArc((107.045426519, 96.524651249), (106.724369969, 96.21118798), (106.410906699, 95.890131429))
            ThreePointArc((106.410906699, 95.890131429), (105.348132986, 96.439857663), (104.215256114, 96.824925046))
            ThreePointArc((104.215256114, 96.824925046), (104.013389732, 96.592051954), (103.814962553, 96.356241504))
            ThreePointArc((103.814962553, 96.356241504), (104.372510105, 95.297550036), (105.081722735, 94.333856961))
            ThreePointArc((105.081722735, 94.333856961), (104.813655382, 93.974028635), (104.554275675, 93.607888364))
            ThreePointArc((104.554275675, 93.607888364), (103.418590341, 93.984592119), (102.239423253, 94.187697696))
            ThreePointArc((102.239423253, 94.187697696), (102.076471558, 93.926112798), (101.917376229, 93.662164717))
            ThreePointArc((101.917376229, 93.662164717), (102.633675279, 92.703727151), (103.484911134, 91.862844034))
            ThreePointArc((103.484911134, 91.862844034), (103.276433687, 91.465510819), (103.077524332, 91.063302417))
            ThreePointArc((103.077524332, 91.063302417), (101.896891719, 91.257707996), (100.700469422, 91.273850633))
            ThreePointArc((100.700469422, 91.273850633), (100.580444826, 90.989995019), (100.464598802, 90.704408584))
            ThreePointArc((100.464598802, 90.704408584), (101.32201169, 89.869824833), (102.29431052, 89.172457009))
            ThreePointArc((102.29431052, 89.172457009), (102.150556385, 88.747402567), (102.017015191, 88.319029739))
            ThreePointArc((102.017015191, 88.319029739), (100.820506391, 88.326350231), (99.636288773, 88.155132445))
            ThreePointArc((99.636288773, 88.155132445), (99.562146681, 87.85599558), (99.492402474, 87.555802877))
            ThreePointArc((99.492402474, 87.555802877), (100.469816849, 86.865623164), (101.53923743, 86.328942142))
            ThreePointArc((101.53923743, 86.328942142), (101.463746311, 85.886632724), (101.398861505, 85.442643432))
            ThreePointArc((101.398861505, 85.442643432), (100.215938537, 85.262698582), (99.073084966, 84.908336321))
        make_face()
        with Locations((119.981915009, 82.953642939)):
            Circle(MODEL_R, mode=Mode.SUBTRACT)
    extrude(amount=BOSS_EXTRUDE1_DEPTH)

    # Sketch3 → Cut-Extrude1 (cut)
    with BuildSketch(Plane.XY.offset(4)):
        with Locations((138.989806686, 82.953642939)):
            Rectangle(SKETCH3_W, SKETCH3_H)
    extrude(amount=-CUT_EXTRUDE1_DEPTH, mode=Mode.SUBTRACT)

    # Sketch4 → Boss-Extrude2 (add)
    with BuildSketch(Plane.XY):
        with Locations((149.981915009, 82.953642939)):
            Rectangle(SKETCH4_W, SKETCH4_H)
    extrude(amount=BOSS_EXTRUDE2_DEPTH)

    # Sketch7 → Cut-Extrude2 (cut)
    with BuildSketch(Plane.XY.offset(4)):
        with Locations((130.031915009, 82.953642939)):
            Rectangle(SKETCH7_W, SKETCH7_H)
    extrude(amount=-CUT_EXTRUDE2_DEPTH, mode=Mode.SUBTRACT)

    # Sketch8 → Cut-Extrude3 (cut)
    with BuildSketch(Plane.XY.offset(4)):
        with Locations((154.781915009, 77.953642939)):
            Circle(SKETCH8_R)
        with Locations((154.781915009, 87.953642939)):
            Circle(SKETCH8_R)
    extrude(amount=-CUT_EXTRUDE3_DEPTH, mode=Mode.SUBTRACT)


solid = part.part
